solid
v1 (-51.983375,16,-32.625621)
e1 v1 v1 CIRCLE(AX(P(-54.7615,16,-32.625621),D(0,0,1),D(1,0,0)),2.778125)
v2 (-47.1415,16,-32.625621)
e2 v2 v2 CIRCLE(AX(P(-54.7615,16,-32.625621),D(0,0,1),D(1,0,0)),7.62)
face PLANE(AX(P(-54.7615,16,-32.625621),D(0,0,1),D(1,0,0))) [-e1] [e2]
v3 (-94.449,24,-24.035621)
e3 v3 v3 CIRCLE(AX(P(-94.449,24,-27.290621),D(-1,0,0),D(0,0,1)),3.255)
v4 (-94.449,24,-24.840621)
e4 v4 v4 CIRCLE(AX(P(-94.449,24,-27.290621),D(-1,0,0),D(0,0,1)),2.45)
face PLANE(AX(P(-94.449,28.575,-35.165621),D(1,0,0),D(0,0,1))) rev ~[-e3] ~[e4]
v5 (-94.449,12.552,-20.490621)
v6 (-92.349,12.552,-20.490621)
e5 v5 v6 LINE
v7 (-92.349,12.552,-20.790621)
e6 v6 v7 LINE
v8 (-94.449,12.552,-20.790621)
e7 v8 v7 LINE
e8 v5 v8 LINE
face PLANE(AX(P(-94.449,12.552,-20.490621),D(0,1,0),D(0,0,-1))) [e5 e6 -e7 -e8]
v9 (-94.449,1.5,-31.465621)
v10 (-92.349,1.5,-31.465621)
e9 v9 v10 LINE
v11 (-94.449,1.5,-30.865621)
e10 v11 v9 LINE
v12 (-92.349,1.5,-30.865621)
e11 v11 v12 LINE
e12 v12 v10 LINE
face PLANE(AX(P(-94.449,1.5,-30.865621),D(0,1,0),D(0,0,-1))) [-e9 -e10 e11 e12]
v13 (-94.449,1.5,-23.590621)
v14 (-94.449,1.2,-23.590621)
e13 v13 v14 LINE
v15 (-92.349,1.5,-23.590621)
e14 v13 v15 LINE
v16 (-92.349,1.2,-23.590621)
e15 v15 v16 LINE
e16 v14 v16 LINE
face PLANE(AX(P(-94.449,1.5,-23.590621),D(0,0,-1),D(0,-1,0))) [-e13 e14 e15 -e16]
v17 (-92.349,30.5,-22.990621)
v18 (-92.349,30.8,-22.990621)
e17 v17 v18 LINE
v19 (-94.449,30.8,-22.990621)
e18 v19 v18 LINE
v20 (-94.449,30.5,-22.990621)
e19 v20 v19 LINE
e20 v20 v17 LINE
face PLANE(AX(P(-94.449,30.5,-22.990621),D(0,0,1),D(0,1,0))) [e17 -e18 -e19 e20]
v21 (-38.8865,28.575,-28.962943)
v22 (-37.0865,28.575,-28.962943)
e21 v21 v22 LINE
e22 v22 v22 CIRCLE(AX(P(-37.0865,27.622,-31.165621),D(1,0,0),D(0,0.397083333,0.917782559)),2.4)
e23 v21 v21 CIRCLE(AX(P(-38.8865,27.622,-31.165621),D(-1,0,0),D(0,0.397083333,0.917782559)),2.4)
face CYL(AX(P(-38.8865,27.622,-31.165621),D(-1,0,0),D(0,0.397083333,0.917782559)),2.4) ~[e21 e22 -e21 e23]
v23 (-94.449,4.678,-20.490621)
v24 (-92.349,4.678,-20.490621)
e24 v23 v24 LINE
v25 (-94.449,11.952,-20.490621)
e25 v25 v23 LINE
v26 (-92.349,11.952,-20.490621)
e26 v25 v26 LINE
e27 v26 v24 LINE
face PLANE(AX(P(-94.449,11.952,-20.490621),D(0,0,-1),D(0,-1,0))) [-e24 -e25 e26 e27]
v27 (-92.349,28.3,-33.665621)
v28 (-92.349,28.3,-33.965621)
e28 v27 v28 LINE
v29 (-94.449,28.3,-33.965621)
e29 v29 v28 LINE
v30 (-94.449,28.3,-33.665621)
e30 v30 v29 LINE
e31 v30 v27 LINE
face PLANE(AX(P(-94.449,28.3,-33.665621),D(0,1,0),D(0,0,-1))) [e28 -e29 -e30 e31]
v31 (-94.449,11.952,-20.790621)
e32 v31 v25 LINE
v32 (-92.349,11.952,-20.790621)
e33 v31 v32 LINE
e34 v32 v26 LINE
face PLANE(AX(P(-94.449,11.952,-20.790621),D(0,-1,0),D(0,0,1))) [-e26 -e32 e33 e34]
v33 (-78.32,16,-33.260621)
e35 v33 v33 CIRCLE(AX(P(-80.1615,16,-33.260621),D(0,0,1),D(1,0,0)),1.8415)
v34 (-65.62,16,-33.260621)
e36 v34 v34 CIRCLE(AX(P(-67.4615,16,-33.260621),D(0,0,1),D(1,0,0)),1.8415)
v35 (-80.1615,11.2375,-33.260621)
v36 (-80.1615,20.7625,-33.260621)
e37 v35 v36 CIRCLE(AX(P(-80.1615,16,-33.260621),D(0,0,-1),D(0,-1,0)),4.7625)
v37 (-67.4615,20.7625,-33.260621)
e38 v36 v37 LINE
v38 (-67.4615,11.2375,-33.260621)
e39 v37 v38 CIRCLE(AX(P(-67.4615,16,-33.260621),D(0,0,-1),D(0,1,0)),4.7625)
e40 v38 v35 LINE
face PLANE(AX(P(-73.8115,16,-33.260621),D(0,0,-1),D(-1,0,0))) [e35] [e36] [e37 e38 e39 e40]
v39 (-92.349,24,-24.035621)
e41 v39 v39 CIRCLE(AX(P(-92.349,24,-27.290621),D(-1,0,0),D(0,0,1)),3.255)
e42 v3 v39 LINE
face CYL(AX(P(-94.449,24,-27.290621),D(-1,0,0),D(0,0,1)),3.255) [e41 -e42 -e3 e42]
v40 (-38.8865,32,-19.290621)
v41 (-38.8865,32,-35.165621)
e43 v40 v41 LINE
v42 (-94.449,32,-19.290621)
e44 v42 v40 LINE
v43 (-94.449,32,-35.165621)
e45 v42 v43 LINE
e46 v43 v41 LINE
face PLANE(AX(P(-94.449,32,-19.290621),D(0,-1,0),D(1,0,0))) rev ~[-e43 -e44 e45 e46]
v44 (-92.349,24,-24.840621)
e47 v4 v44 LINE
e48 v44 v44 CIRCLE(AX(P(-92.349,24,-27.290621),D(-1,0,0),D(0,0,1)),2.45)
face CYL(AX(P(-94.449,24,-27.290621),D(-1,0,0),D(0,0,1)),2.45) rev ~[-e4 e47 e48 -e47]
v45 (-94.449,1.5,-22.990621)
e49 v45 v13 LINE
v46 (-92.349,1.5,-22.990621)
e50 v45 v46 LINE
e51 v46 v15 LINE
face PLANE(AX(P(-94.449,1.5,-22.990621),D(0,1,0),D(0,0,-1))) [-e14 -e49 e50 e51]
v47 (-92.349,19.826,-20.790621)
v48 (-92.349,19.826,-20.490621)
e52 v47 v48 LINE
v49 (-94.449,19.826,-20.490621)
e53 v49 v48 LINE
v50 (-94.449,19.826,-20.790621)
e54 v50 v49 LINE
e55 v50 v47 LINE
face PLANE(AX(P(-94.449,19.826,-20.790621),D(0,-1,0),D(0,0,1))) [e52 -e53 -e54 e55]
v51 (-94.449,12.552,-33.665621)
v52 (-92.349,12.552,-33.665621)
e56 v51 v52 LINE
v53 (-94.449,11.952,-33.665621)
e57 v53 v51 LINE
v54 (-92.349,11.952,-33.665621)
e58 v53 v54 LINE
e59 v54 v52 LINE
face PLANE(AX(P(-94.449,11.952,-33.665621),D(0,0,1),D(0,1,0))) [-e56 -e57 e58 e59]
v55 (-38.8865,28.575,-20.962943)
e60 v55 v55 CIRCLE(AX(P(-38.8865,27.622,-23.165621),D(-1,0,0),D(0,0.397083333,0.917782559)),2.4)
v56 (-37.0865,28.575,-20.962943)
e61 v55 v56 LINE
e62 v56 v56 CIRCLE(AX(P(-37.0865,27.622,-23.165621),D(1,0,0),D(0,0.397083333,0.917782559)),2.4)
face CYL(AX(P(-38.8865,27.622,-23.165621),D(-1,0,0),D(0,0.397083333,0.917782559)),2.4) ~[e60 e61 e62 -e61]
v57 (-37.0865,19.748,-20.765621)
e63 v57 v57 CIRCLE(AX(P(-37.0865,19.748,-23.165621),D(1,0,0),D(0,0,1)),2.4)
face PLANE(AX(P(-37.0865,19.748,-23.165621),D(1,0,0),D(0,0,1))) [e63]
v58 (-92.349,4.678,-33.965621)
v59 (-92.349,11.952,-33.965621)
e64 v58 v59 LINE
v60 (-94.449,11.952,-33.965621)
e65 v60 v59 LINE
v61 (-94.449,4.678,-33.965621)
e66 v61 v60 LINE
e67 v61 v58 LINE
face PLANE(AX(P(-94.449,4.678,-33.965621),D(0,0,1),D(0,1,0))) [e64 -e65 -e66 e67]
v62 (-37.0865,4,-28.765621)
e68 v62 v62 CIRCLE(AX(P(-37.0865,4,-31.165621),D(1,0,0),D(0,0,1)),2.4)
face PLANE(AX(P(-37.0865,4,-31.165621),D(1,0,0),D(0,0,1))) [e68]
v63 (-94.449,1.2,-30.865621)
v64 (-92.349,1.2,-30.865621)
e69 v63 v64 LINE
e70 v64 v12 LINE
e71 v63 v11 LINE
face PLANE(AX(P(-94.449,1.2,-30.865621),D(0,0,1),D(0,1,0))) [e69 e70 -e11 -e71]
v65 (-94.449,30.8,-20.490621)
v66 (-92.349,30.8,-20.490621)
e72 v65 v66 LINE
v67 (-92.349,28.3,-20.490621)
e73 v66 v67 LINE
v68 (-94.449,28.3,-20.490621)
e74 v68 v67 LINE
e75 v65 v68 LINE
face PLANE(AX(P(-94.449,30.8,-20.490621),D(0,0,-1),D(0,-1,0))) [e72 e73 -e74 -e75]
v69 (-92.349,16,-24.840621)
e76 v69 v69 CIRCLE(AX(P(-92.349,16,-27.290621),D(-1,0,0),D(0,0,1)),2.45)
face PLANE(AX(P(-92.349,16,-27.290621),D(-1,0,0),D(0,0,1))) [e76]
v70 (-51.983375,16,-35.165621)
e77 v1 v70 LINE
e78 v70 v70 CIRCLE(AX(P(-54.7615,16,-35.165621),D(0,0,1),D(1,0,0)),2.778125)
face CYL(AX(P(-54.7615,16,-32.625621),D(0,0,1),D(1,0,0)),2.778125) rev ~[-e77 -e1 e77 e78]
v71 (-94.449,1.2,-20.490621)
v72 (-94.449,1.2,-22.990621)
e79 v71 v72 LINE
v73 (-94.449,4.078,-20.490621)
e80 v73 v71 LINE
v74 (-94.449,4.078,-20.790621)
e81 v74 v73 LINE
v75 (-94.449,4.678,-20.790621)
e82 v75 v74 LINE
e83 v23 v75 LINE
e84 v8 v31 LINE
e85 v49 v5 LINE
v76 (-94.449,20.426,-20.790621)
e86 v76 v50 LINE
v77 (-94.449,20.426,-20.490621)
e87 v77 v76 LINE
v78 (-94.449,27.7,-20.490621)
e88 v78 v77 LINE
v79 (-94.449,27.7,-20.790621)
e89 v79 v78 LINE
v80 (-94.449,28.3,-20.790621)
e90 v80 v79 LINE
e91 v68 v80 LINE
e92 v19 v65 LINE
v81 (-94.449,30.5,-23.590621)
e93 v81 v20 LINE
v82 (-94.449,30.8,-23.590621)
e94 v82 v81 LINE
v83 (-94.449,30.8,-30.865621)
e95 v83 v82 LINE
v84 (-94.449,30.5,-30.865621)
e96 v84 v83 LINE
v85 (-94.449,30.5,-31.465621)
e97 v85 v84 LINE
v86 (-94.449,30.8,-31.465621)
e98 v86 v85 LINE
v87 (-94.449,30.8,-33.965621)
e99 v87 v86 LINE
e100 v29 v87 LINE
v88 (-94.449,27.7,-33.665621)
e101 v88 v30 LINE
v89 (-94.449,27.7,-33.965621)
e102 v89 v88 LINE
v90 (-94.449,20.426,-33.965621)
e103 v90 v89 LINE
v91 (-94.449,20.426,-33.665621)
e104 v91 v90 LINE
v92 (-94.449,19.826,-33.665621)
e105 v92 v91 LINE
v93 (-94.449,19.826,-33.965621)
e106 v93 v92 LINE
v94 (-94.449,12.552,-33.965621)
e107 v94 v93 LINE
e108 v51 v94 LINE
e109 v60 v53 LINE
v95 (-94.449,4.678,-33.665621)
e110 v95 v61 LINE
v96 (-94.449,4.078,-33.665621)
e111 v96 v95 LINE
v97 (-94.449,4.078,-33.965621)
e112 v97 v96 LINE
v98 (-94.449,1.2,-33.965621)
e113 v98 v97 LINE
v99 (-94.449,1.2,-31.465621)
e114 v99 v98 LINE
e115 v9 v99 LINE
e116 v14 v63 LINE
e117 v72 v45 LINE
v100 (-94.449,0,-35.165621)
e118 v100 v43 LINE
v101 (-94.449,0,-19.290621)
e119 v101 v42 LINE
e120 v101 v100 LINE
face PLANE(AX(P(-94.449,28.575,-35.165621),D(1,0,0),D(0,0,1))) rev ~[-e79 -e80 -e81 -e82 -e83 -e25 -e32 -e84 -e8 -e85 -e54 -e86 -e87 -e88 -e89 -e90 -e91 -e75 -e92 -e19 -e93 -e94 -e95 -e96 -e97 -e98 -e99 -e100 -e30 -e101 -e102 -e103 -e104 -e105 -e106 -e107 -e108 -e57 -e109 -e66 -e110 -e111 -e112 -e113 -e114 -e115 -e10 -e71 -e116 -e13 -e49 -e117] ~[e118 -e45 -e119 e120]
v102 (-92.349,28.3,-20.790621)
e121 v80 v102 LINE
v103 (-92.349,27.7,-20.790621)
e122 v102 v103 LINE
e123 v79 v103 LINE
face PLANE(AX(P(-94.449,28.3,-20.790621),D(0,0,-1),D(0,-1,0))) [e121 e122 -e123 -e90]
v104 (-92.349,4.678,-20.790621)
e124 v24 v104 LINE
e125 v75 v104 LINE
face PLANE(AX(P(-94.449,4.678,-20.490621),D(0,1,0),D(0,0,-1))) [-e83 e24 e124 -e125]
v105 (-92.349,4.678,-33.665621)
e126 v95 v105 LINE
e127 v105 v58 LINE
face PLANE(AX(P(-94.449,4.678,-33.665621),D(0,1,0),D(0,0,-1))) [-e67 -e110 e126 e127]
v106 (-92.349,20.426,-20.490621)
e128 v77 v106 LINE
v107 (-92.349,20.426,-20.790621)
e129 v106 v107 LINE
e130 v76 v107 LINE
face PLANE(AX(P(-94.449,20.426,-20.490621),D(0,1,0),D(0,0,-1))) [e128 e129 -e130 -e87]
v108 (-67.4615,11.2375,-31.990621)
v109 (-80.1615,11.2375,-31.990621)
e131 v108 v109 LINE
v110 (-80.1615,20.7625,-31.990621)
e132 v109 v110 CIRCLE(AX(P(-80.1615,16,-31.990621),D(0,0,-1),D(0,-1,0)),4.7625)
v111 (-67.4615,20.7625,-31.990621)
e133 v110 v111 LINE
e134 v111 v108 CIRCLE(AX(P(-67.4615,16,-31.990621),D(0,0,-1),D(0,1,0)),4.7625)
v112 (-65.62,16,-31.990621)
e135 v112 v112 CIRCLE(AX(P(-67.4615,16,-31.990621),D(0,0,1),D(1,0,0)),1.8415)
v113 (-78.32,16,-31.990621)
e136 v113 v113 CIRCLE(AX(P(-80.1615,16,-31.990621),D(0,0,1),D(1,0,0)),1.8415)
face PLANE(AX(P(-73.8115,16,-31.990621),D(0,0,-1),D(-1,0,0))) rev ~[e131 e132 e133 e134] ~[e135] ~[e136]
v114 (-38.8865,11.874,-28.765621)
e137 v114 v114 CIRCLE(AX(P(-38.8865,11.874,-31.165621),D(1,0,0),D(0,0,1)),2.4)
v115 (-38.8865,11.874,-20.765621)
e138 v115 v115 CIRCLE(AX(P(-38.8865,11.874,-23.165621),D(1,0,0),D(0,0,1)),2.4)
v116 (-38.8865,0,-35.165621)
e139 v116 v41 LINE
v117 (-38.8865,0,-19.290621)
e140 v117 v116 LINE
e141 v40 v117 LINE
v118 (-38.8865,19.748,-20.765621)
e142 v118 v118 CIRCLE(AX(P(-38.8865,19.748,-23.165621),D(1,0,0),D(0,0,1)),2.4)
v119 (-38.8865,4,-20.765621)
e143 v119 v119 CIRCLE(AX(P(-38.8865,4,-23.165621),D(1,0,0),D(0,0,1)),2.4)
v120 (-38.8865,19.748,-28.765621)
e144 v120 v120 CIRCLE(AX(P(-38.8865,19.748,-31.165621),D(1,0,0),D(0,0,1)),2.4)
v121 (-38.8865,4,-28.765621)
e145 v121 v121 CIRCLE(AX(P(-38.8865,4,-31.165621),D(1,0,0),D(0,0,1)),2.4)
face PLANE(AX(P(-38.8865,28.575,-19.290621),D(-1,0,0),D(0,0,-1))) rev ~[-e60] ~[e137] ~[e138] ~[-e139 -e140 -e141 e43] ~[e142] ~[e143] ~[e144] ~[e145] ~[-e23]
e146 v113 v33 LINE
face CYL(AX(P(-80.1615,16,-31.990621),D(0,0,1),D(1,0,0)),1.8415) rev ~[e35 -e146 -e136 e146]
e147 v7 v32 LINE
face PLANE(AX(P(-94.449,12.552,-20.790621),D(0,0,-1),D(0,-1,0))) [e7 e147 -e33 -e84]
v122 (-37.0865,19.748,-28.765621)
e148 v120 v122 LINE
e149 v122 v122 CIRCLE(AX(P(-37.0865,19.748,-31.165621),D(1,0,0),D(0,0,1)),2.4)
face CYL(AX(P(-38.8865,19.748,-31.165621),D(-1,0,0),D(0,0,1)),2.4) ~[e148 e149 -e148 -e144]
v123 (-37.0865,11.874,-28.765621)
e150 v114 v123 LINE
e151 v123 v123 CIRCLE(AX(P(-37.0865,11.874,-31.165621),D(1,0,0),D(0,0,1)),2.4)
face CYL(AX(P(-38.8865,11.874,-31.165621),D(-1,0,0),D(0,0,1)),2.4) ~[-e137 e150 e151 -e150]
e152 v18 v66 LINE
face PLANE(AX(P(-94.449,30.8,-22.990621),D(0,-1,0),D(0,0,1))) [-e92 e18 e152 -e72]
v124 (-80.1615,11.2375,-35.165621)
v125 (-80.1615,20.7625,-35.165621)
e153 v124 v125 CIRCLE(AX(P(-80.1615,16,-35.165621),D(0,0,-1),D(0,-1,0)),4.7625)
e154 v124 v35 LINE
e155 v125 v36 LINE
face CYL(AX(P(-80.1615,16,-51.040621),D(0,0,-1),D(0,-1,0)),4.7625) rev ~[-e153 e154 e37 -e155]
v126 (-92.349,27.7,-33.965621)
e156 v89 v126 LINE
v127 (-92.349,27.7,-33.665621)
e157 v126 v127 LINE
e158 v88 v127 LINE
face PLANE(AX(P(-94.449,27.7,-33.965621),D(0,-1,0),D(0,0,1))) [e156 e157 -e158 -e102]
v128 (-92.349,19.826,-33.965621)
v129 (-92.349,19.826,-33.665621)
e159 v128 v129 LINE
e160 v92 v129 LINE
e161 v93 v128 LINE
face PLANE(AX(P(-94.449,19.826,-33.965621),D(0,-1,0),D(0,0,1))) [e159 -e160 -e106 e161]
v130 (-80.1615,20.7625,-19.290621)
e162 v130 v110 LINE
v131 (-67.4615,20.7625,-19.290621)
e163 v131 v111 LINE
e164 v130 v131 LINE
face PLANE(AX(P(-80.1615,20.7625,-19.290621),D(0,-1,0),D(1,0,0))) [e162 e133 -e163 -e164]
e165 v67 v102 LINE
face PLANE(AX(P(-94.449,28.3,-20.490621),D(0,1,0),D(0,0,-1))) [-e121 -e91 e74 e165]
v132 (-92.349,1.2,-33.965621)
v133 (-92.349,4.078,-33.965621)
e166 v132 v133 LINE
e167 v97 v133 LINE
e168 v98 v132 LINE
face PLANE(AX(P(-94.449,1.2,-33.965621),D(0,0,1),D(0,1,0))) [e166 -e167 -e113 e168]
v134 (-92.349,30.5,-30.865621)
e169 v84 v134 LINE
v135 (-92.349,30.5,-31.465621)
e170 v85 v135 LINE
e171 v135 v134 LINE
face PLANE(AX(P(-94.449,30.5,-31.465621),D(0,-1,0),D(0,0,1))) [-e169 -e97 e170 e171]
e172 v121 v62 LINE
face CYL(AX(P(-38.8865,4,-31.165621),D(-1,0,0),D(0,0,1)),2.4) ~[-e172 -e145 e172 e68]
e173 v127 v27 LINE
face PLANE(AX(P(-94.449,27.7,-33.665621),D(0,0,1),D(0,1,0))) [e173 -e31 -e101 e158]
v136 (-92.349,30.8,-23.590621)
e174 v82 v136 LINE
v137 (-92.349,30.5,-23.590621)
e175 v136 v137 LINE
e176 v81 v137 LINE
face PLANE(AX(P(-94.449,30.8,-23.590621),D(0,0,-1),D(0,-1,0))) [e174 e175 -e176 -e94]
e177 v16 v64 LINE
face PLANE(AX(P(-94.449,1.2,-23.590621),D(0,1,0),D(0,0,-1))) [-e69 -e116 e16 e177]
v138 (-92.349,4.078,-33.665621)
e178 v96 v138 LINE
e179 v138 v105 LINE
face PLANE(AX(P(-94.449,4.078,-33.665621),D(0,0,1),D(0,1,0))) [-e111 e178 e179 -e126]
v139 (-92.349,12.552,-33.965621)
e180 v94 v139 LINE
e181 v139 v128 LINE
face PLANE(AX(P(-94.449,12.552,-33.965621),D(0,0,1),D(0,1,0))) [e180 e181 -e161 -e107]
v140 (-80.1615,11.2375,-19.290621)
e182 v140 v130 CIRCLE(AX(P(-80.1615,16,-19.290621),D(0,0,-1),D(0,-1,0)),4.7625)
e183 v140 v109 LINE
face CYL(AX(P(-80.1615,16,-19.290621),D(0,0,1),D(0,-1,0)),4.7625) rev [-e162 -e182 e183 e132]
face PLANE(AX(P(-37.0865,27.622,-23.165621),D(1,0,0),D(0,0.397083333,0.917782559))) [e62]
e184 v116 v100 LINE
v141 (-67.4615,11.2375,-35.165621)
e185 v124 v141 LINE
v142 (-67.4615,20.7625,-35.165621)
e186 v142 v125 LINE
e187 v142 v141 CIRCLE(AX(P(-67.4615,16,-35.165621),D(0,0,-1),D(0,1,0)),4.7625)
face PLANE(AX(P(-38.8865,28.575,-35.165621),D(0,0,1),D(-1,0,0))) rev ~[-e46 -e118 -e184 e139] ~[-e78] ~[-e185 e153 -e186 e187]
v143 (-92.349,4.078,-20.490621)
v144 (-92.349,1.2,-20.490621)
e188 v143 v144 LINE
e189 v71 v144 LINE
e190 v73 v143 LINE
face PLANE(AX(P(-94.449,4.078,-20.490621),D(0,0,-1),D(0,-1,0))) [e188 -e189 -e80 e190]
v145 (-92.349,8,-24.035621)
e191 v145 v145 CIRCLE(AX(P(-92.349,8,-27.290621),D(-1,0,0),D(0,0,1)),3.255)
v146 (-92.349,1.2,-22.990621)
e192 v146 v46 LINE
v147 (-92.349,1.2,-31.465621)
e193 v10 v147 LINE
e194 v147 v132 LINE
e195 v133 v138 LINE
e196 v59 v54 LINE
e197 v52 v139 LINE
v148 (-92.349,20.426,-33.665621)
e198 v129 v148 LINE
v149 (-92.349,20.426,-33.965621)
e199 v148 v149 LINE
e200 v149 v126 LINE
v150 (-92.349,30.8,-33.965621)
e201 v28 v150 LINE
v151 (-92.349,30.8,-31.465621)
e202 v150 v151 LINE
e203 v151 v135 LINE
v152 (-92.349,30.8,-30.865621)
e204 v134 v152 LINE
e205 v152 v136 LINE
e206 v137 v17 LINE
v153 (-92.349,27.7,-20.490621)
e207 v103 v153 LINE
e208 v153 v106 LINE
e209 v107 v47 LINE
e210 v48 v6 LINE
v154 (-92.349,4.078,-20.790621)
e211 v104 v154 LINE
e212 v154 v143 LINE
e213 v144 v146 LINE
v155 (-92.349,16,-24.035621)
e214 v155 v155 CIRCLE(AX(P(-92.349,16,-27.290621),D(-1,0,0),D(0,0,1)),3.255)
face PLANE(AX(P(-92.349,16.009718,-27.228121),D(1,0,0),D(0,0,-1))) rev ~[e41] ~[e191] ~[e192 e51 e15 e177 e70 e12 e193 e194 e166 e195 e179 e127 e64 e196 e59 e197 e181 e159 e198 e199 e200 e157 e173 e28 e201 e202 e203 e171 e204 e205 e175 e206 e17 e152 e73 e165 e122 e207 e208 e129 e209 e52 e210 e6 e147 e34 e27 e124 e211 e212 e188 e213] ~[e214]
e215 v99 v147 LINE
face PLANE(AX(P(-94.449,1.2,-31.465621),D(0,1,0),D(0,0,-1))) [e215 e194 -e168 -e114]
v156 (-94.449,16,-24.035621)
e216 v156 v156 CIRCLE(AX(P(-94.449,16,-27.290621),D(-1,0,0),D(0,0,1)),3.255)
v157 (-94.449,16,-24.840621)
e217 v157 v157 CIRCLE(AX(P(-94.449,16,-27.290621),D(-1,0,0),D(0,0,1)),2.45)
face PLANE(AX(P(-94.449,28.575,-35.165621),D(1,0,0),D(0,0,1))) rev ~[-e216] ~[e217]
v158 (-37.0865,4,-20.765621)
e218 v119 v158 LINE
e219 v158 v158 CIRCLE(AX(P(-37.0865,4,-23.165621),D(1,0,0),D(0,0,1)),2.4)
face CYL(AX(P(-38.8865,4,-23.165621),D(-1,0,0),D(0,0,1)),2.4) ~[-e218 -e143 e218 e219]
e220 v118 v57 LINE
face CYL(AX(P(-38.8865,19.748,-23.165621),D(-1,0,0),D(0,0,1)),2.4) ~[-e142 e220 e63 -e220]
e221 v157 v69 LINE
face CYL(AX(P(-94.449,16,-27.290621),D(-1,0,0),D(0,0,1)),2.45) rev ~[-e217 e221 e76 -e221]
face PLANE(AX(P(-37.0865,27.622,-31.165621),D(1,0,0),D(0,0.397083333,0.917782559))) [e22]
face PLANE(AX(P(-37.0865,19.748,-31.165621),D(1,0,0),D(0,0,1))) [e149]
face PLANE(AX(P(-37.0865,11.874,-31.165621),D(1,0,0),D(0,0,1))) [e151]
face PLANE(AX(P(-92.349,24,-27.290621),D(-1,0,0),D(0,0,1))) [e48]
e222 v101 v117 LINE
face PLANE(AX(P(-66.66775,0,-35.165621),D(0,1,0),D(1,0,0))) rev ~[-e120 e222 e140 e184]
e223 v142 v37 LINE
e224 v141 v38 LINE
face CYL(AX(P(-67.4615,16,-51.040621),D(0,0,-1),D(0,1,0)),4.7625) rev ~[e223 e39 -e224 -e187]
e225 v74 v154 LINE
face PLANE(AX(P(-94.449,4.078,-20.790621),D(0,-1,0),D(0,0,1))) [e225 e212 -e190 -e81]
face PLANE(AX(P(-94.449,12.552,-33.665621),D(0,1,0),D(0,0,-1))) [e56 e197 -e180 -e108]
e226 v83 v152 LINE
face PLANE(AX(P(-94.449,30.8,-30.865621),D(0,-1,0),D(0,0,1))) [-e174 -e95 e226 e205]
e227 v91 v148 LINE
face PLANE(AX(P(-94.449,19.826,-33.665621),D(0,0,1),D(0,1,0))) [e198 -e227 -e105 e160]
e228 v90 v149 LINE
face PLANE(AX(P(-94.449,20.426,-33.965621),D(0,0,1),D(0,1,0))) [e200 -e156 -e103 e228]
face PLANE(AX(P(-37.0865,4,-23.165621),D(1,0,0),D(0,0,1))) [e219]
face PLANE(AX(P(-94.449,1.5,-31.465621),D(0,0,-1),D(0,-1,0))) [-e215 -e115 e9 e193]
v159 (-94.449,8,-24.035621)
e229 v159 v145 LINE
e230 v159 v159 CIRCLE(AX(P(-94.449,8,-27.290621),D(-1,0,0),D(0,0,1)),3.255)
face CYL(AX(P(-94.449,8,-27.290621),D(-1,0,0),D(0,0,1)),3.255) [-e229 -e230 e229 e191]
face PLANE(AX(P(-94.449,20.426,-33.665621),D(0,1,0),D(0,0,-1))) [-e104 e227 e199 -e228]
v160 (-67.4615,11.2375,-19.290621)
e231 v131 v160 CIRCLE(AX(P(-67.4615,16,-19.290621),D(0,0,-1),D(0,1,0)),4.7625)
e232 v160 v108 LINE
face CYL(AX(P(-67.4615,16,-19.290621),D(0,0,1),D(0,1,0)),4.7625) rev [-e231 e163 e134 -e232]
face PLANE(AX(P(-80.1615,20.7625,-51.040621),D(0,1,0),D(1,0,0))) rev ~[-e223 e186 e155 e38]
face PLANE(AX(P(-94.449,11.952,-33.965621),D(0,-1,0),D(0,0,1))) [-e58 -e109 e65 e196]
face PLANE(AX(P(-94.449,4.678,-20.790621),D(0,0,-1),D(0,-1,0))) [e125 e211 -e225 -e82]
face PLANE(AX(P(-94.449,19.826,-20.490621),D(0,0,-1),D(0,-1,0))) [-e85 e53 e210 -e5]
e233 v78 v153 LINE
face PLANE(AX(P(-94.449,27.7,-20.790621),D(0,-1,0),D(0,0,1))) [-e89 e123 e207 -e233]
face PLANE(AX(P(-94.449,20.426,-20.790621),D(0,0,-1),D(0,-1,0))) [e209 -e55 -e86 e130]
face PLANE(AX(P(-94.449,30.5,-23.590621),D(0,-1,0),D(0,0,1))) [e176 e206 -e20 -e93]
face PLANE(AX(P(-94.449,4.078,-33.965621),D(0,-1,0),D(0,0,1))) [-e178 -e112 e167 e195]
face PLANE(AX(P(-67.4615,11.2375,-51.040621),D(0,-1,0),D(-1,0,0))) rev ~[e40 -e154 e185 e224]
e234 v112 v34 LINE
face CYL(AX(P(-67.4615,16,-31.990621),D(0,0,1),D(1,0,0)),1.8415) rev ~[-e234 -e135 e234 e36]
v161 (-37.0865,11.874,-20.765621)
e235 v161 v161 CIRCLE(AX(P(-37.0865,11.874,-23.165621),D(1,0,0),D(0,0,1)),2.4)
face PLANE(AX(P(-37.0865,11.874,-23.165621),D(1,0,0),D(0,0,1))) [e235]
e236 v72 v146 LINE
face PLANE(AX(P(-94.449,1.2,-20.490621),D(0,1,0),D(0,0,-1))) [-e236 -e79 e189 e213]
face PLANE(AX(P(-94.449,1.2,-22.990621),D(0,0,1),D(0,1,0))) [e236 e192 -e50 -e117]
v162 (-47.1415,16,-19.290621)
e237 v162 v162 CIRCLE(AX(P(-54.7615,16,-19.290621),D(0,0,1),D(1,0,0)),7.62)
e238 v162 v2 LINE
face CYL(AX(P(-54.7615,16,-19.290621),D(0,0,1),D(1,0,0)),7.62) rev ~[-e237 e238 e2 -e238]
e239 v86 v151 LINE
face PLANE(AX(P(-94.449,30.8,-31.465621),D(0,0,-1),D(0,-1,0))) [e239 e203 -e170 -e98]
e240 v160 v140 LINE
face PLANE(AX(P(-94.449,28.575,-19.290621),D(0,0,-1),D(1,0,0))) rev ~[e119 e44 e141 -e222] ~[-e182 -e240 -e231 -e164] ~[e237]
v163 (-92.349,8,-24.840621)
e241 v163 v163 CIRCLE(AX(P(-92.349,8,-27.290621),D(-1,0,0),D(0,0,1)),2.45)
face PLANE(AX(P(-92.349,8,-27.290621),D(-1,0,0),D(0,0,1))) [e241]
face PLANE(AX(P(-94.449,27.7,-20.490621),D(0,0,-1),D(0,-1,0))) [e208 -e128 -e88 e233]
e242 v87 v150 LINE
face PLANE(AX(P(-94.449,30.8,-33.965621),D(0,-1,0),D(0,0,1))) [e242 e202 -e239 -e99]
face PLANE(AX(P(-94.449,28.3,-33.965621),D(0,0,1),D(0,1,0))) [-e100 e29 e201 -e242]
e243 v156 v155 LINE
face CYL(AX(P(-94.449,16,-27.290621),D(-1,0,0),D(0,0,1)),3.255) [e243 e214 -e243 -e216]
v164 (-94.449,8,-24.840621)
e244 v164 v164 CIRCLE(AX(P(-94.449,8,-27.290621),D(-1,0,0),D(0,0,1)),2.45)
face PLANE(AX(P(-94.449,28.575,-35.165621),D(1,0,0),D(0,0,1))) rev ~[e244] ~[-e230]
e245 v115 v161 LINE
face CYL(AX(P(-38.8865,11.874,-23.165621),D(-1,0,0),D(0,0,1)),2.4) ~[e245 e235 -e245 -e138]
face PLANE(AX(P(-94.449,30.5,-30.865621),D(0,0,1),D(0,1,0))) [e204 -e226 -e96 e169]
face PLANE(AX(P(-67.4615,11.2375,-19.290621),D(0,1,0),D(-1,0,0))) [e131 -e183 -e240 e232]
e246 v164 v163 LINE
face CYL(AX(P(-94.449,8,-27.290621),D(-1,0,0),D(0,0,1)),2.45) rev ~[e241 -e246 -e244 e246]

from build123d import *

# Parameters (mm, degrees)
SKETCH1_W               = 55.5625
SKETCH1_H               = 31.75
BOSS_EXTRUDE1_DEPTH     = 28.575
SKETCH2_R               = 7.62
CUT_EXTRUDE1_DEPTH      = 13.335
CUT_EXTRUDE2_DEPTH      = 12.7
SKETCH4_R               = 1.8415
CUT_EXTRUDE3_DEPTH      = 25.4
CUT_EXTRUDE4_DEPTH      = 17.78
SKETCH6_W               = 55.5625
SKETCH6_H               = 28.575
CUT_EXTRUDE5_DEPTH      = 15.875
SKETCH7_R               = 2.778125
CUT_EXTRUDE7_DEPTH      = 7.9375
SKETCH8_R               = 2.4
BOSS_EXTRUDE2_DEPTH     = 1.8
BOSS_EXTRUDE3_DEPTH     = 4
SKETCH11_W              = 55.5625
SKETCH11_H              = 0.575
CUT_EXTRUDE8_DEPTH      = 102.162047202
CUT_EXTRUDE8_DEPTH_BACK = 102.162047202
SKETCH12_R              = 3.255
SKETCH12_R_2            = 2.45
CUT_EXTRUDE10_DEPTH     = 2.1


with BuildPart() as part:
    # Sketch1 → Boss-Extrude1 (new body)
    with BuildSketch(Plane(origin=(0, 0, 0), x_dir=(1, 0, 0), z_dir=(0, 1, 0))):
        with Locations((-66.667749699, 35.16562105)):
            Rectangle(SKETCH1_W, SKETCH1_H)
    extrude(amount=BOSS_EXTRUDE1_DEPTH)

    # Sketch2 → Cut-Extrude1 (cut)
    with BuildSketch(Plane.XY.offset(-19.29062105)):
        with Locations((-54.761499699, 16)):
            Circle(SKETCH2_R)
    extrude(amount=-CUT_EXTRUDE1_DEPTH, mode=Mode.SUBTRACT)

    # Sketch3 → Cut-Extrude2 (cut)
    with BuildSketch(Plane.XY.offset(-19.29062105)):
        with BuildLine():
            Line((-80.161499699, 20.7625), (-67.461499699, 20.7625))
            ThreePointArc((-67.461499699, 20.7625), (-62.698999699, 16), (-67.461499699, 11.2375))
            Line((-67.461499699, 11.2375), (-80.161499699, 11.2375))
            ThreePointArc((-80.161499699, 11.2375), (-84.923999699, 16), (-80.161499699, 20.7625))
        make_face()
    extrude(amount=-CUT_EXTRUDE2_DEPTH, mode=Mode.SUBTRACT)

    # Sketch4 → Cut-Extrude3 (cut)
    with BuildSketch(Plane.XY.offset(-31.99062105)):
        with Locations((-80.161499699, 16)):
            Circle(SKETCH4_R)
        with Locations((-67.461499699, 16)):
            Circle(SKETCH4_R)
    extrude(amount=-CUT_EXTRUDE3_DEPTH, mode=Mode.SUBTRACT)

    # Sketch5 → Cut-Extrude4 (cut)
    with BuildSketch(Plane(origin=(0, 0, -51.04062105), x_dir=(-1, 0, 0), z_dir=(0, 0, -1))):
        with BuildLine():
            Line((67.461499699, 11.2375), (80.161499699, 11.2375))
            ThreePointArc((80.161499699, 11.2375), (84.923999699, 16), (80.161499699, 20.7625))
            Line((80.161499699, 20.7625), (67.461499699, 20.7625))
            ThreePointArc((67.461499699, 20.7625), (62.698999699, 16), (67.461499699, 11.2375))
        make_face()
    extrude(amount=-CUT_EXTRUDE4_DEPTH, mode=Mode.SUBTRACT)

    # Sketch6 → Cut-Extrude5 (cut)
    with BuildSketch(Plane(origin=(0, 0, -51.04062105), x_dir=(-1, 0, 0), z_dir=(0, 0, -1))):
        with Locations((66.667749699, 14.2875)):
            Rectangle(SKETCH6_W, SKETCH6_H)
    extrude(amount=-CUT_EXTRUDE5_DEPTH, mode=Mode.SUBTRACT)

    # Sketch7 → Cut-Extrude7 (cut)
    with BuildSketch(Plane.XY.offset(-32.62562105)):
        with Locations((-54.761499699, 16)):
            Circle(SKETCH7_R)
    extrude(amount=-CUT_EXTRUDE7_DEPTH, mode=Mode.SUBTRACT)

    # Sketch8 → Boss-Extrude2 (add)
    with BuildSketch(Plane(origin=(-38.886499699, 0, 0), x_dir=(0, 0, -1), z_dir=(1, 0, 0))):
        with Locations(Location((31.16562105, 4, 0), (0, 0, 180))):
            Circle(SKETCH8_R)
        with Locations(Location((23.16562105, 4, 0), (0, 0, 180))):
            Circle(SKETCH8_R)
        with Locations(Location((23.16562105, 11.874, 0), (0, 0, 180))):
            Circle(SKETCH8_R)
        with Locations(Location((31.16562105, 11.874, 0), (0, 0, 180))):
            Circle(SKETCH8_R)
        with Locations(Location((23.16562105, 19.748, 0), (0, 0, 180))):
            Circle(SKETCH8_R)
        with Locations(Location((31.16562105, 19.748, 0), (0, 0, 180))):
            Circle(SKETCH8_R)
        with Locations(Location((23.16562105, 27.622, 0), (0, 0, 156.604030276))):
            Circle(SKETCH8_R)
        with Locations(Location((31.16562105, 27.622, 0), (0, 0, 156.604030276))):
            Circle(SKETCH8_R)
    extrude(amount=BOSS_EXTRUDE2_DEPTH)

    # Sketch10 → Boss-Extrude3 (add)
    with BuildSketch(Plane(origin=(0, 28.575, 0), x_dir=(1, 0, 0), z_dir=(0, 1, 0))):
        Polygon((-38.886499699, 19.29062105), (-38.886499699, 20.962942907), (-38.886499699, 25.368299192), (-38.886499699, 28.962942907), (-38.886499699, 33.368299192), (-38.886499699, 35.16562105), (-94.448999699, 35.16562105), (-94.448999699, 19.29062105), align=None)
    extrude(amount=BOSS_EXTRUDE3_DEPTH)

    # Sketch11 → Cut-Extrude8 (cut, two sides)
    with BuildSketch(Plane.XY.offset(-19.29062105)) as cut_extrude8_sk:
        with Locations((-66.667749699, 32.2875)):
            Rectangle(SKETCH11_W, SKETCH11_H)
    extrude(amount=CUT_EXTRUDE8_DEPTH, mode=Mode.SUBTRACT)
    extrude(cut_extrude8_sk.sketch, amount=-CUT_EXTRUDE8_DEPTH_BACK, mode=Mode.SUBTRACT)

    # Sketch12 → Cut-Extrude10 (cut)
    with BuildSketch(Plane.ZY.offset(94.448999699)):
        Polygon((-33.96562105, 30.8), (-31.46562105, 30.8), (-31.46562105, 30.5), (-30.86562105, 30.5), (-30.86562105, 30.8), (-23.59062105, 30.8), (-23.59062105, 30.5), (-22.99062105, 30.5), (-22.99062105, 30.8), (-20.49062105, 30.8), (-20.49062105, 28.3), (-20.79062105, 28.3), (-20.79062105, 27.7), (-20.49062105, 27.7), (-20.49062105, 20.426), (-20.79062105, 20.426), (-20.79062105, 19.826), (-20.49062105, 19.826), (-20.49062105, 12.552), (-20.79062105, 12.552), (-20.79062105, 11.952), (-20.49062105, 11.952), (-20.49062105, 4.678), (-20.79062105, 4.678), (-20.79062105, 4.078), (-20.49062105, 4.078), (-20.49062105, 1.2), (-22.99062105, 1.2), (-22.99062105, 1.5), (-23.59062105, 1.5), (-23.59062105, 1.2), (-30.86562105, 1.2), (-30.86562105, 1.5), (-31.46562105, 1.5), (-31.46562105, 1.2), (-33.96562105, 1.2), (-33.96562105, 4.078), (-33.66562105, 4.078), (-33.66562105, 4.678), (-33.96562105, 4.678), (-33.96562105, 11.952), (-33.66562105, 11.952), (-33.66562105, 12.552), (-33.96562105, 12.552), (-33.96562105, 19.826), (-33.66562105, 19.826), (-33.66562105, 20.426), (-33.96562105, 20.426), (-33.96562105, 27.7), (-33.66562105, 27.7), (-33.66562105, 28.3), (-33.96562105, 28.3), align=None)
        with Locations((-27.29062105, 24)):
            Circle(SKETCH12_R, mode=Mode.SUBTRACT)
        with Locations((-27.29062105, 16)):
            Circle(SKETCH12_R, mode=Mode.SUBTRACT)
        with Locations((-27.29062105, 8)):
            Circle(SKETCH12_R, mode=Mode.SUBTRACT)
        with Locations((-27.29062105, 8)):
            Circle(SKETCH12_R_2)
        with Locations((-27.29062105, 16)):
            Circle(SKETCH12_R_2)
        with Locations((-27.29062105, 24)):
            Circle(SKETCH12_R_2)
    extrude(amount=-CUT_EXTRUDE10_DEPTH, mode=Mode.SUBTRACT)


solid = part.part
